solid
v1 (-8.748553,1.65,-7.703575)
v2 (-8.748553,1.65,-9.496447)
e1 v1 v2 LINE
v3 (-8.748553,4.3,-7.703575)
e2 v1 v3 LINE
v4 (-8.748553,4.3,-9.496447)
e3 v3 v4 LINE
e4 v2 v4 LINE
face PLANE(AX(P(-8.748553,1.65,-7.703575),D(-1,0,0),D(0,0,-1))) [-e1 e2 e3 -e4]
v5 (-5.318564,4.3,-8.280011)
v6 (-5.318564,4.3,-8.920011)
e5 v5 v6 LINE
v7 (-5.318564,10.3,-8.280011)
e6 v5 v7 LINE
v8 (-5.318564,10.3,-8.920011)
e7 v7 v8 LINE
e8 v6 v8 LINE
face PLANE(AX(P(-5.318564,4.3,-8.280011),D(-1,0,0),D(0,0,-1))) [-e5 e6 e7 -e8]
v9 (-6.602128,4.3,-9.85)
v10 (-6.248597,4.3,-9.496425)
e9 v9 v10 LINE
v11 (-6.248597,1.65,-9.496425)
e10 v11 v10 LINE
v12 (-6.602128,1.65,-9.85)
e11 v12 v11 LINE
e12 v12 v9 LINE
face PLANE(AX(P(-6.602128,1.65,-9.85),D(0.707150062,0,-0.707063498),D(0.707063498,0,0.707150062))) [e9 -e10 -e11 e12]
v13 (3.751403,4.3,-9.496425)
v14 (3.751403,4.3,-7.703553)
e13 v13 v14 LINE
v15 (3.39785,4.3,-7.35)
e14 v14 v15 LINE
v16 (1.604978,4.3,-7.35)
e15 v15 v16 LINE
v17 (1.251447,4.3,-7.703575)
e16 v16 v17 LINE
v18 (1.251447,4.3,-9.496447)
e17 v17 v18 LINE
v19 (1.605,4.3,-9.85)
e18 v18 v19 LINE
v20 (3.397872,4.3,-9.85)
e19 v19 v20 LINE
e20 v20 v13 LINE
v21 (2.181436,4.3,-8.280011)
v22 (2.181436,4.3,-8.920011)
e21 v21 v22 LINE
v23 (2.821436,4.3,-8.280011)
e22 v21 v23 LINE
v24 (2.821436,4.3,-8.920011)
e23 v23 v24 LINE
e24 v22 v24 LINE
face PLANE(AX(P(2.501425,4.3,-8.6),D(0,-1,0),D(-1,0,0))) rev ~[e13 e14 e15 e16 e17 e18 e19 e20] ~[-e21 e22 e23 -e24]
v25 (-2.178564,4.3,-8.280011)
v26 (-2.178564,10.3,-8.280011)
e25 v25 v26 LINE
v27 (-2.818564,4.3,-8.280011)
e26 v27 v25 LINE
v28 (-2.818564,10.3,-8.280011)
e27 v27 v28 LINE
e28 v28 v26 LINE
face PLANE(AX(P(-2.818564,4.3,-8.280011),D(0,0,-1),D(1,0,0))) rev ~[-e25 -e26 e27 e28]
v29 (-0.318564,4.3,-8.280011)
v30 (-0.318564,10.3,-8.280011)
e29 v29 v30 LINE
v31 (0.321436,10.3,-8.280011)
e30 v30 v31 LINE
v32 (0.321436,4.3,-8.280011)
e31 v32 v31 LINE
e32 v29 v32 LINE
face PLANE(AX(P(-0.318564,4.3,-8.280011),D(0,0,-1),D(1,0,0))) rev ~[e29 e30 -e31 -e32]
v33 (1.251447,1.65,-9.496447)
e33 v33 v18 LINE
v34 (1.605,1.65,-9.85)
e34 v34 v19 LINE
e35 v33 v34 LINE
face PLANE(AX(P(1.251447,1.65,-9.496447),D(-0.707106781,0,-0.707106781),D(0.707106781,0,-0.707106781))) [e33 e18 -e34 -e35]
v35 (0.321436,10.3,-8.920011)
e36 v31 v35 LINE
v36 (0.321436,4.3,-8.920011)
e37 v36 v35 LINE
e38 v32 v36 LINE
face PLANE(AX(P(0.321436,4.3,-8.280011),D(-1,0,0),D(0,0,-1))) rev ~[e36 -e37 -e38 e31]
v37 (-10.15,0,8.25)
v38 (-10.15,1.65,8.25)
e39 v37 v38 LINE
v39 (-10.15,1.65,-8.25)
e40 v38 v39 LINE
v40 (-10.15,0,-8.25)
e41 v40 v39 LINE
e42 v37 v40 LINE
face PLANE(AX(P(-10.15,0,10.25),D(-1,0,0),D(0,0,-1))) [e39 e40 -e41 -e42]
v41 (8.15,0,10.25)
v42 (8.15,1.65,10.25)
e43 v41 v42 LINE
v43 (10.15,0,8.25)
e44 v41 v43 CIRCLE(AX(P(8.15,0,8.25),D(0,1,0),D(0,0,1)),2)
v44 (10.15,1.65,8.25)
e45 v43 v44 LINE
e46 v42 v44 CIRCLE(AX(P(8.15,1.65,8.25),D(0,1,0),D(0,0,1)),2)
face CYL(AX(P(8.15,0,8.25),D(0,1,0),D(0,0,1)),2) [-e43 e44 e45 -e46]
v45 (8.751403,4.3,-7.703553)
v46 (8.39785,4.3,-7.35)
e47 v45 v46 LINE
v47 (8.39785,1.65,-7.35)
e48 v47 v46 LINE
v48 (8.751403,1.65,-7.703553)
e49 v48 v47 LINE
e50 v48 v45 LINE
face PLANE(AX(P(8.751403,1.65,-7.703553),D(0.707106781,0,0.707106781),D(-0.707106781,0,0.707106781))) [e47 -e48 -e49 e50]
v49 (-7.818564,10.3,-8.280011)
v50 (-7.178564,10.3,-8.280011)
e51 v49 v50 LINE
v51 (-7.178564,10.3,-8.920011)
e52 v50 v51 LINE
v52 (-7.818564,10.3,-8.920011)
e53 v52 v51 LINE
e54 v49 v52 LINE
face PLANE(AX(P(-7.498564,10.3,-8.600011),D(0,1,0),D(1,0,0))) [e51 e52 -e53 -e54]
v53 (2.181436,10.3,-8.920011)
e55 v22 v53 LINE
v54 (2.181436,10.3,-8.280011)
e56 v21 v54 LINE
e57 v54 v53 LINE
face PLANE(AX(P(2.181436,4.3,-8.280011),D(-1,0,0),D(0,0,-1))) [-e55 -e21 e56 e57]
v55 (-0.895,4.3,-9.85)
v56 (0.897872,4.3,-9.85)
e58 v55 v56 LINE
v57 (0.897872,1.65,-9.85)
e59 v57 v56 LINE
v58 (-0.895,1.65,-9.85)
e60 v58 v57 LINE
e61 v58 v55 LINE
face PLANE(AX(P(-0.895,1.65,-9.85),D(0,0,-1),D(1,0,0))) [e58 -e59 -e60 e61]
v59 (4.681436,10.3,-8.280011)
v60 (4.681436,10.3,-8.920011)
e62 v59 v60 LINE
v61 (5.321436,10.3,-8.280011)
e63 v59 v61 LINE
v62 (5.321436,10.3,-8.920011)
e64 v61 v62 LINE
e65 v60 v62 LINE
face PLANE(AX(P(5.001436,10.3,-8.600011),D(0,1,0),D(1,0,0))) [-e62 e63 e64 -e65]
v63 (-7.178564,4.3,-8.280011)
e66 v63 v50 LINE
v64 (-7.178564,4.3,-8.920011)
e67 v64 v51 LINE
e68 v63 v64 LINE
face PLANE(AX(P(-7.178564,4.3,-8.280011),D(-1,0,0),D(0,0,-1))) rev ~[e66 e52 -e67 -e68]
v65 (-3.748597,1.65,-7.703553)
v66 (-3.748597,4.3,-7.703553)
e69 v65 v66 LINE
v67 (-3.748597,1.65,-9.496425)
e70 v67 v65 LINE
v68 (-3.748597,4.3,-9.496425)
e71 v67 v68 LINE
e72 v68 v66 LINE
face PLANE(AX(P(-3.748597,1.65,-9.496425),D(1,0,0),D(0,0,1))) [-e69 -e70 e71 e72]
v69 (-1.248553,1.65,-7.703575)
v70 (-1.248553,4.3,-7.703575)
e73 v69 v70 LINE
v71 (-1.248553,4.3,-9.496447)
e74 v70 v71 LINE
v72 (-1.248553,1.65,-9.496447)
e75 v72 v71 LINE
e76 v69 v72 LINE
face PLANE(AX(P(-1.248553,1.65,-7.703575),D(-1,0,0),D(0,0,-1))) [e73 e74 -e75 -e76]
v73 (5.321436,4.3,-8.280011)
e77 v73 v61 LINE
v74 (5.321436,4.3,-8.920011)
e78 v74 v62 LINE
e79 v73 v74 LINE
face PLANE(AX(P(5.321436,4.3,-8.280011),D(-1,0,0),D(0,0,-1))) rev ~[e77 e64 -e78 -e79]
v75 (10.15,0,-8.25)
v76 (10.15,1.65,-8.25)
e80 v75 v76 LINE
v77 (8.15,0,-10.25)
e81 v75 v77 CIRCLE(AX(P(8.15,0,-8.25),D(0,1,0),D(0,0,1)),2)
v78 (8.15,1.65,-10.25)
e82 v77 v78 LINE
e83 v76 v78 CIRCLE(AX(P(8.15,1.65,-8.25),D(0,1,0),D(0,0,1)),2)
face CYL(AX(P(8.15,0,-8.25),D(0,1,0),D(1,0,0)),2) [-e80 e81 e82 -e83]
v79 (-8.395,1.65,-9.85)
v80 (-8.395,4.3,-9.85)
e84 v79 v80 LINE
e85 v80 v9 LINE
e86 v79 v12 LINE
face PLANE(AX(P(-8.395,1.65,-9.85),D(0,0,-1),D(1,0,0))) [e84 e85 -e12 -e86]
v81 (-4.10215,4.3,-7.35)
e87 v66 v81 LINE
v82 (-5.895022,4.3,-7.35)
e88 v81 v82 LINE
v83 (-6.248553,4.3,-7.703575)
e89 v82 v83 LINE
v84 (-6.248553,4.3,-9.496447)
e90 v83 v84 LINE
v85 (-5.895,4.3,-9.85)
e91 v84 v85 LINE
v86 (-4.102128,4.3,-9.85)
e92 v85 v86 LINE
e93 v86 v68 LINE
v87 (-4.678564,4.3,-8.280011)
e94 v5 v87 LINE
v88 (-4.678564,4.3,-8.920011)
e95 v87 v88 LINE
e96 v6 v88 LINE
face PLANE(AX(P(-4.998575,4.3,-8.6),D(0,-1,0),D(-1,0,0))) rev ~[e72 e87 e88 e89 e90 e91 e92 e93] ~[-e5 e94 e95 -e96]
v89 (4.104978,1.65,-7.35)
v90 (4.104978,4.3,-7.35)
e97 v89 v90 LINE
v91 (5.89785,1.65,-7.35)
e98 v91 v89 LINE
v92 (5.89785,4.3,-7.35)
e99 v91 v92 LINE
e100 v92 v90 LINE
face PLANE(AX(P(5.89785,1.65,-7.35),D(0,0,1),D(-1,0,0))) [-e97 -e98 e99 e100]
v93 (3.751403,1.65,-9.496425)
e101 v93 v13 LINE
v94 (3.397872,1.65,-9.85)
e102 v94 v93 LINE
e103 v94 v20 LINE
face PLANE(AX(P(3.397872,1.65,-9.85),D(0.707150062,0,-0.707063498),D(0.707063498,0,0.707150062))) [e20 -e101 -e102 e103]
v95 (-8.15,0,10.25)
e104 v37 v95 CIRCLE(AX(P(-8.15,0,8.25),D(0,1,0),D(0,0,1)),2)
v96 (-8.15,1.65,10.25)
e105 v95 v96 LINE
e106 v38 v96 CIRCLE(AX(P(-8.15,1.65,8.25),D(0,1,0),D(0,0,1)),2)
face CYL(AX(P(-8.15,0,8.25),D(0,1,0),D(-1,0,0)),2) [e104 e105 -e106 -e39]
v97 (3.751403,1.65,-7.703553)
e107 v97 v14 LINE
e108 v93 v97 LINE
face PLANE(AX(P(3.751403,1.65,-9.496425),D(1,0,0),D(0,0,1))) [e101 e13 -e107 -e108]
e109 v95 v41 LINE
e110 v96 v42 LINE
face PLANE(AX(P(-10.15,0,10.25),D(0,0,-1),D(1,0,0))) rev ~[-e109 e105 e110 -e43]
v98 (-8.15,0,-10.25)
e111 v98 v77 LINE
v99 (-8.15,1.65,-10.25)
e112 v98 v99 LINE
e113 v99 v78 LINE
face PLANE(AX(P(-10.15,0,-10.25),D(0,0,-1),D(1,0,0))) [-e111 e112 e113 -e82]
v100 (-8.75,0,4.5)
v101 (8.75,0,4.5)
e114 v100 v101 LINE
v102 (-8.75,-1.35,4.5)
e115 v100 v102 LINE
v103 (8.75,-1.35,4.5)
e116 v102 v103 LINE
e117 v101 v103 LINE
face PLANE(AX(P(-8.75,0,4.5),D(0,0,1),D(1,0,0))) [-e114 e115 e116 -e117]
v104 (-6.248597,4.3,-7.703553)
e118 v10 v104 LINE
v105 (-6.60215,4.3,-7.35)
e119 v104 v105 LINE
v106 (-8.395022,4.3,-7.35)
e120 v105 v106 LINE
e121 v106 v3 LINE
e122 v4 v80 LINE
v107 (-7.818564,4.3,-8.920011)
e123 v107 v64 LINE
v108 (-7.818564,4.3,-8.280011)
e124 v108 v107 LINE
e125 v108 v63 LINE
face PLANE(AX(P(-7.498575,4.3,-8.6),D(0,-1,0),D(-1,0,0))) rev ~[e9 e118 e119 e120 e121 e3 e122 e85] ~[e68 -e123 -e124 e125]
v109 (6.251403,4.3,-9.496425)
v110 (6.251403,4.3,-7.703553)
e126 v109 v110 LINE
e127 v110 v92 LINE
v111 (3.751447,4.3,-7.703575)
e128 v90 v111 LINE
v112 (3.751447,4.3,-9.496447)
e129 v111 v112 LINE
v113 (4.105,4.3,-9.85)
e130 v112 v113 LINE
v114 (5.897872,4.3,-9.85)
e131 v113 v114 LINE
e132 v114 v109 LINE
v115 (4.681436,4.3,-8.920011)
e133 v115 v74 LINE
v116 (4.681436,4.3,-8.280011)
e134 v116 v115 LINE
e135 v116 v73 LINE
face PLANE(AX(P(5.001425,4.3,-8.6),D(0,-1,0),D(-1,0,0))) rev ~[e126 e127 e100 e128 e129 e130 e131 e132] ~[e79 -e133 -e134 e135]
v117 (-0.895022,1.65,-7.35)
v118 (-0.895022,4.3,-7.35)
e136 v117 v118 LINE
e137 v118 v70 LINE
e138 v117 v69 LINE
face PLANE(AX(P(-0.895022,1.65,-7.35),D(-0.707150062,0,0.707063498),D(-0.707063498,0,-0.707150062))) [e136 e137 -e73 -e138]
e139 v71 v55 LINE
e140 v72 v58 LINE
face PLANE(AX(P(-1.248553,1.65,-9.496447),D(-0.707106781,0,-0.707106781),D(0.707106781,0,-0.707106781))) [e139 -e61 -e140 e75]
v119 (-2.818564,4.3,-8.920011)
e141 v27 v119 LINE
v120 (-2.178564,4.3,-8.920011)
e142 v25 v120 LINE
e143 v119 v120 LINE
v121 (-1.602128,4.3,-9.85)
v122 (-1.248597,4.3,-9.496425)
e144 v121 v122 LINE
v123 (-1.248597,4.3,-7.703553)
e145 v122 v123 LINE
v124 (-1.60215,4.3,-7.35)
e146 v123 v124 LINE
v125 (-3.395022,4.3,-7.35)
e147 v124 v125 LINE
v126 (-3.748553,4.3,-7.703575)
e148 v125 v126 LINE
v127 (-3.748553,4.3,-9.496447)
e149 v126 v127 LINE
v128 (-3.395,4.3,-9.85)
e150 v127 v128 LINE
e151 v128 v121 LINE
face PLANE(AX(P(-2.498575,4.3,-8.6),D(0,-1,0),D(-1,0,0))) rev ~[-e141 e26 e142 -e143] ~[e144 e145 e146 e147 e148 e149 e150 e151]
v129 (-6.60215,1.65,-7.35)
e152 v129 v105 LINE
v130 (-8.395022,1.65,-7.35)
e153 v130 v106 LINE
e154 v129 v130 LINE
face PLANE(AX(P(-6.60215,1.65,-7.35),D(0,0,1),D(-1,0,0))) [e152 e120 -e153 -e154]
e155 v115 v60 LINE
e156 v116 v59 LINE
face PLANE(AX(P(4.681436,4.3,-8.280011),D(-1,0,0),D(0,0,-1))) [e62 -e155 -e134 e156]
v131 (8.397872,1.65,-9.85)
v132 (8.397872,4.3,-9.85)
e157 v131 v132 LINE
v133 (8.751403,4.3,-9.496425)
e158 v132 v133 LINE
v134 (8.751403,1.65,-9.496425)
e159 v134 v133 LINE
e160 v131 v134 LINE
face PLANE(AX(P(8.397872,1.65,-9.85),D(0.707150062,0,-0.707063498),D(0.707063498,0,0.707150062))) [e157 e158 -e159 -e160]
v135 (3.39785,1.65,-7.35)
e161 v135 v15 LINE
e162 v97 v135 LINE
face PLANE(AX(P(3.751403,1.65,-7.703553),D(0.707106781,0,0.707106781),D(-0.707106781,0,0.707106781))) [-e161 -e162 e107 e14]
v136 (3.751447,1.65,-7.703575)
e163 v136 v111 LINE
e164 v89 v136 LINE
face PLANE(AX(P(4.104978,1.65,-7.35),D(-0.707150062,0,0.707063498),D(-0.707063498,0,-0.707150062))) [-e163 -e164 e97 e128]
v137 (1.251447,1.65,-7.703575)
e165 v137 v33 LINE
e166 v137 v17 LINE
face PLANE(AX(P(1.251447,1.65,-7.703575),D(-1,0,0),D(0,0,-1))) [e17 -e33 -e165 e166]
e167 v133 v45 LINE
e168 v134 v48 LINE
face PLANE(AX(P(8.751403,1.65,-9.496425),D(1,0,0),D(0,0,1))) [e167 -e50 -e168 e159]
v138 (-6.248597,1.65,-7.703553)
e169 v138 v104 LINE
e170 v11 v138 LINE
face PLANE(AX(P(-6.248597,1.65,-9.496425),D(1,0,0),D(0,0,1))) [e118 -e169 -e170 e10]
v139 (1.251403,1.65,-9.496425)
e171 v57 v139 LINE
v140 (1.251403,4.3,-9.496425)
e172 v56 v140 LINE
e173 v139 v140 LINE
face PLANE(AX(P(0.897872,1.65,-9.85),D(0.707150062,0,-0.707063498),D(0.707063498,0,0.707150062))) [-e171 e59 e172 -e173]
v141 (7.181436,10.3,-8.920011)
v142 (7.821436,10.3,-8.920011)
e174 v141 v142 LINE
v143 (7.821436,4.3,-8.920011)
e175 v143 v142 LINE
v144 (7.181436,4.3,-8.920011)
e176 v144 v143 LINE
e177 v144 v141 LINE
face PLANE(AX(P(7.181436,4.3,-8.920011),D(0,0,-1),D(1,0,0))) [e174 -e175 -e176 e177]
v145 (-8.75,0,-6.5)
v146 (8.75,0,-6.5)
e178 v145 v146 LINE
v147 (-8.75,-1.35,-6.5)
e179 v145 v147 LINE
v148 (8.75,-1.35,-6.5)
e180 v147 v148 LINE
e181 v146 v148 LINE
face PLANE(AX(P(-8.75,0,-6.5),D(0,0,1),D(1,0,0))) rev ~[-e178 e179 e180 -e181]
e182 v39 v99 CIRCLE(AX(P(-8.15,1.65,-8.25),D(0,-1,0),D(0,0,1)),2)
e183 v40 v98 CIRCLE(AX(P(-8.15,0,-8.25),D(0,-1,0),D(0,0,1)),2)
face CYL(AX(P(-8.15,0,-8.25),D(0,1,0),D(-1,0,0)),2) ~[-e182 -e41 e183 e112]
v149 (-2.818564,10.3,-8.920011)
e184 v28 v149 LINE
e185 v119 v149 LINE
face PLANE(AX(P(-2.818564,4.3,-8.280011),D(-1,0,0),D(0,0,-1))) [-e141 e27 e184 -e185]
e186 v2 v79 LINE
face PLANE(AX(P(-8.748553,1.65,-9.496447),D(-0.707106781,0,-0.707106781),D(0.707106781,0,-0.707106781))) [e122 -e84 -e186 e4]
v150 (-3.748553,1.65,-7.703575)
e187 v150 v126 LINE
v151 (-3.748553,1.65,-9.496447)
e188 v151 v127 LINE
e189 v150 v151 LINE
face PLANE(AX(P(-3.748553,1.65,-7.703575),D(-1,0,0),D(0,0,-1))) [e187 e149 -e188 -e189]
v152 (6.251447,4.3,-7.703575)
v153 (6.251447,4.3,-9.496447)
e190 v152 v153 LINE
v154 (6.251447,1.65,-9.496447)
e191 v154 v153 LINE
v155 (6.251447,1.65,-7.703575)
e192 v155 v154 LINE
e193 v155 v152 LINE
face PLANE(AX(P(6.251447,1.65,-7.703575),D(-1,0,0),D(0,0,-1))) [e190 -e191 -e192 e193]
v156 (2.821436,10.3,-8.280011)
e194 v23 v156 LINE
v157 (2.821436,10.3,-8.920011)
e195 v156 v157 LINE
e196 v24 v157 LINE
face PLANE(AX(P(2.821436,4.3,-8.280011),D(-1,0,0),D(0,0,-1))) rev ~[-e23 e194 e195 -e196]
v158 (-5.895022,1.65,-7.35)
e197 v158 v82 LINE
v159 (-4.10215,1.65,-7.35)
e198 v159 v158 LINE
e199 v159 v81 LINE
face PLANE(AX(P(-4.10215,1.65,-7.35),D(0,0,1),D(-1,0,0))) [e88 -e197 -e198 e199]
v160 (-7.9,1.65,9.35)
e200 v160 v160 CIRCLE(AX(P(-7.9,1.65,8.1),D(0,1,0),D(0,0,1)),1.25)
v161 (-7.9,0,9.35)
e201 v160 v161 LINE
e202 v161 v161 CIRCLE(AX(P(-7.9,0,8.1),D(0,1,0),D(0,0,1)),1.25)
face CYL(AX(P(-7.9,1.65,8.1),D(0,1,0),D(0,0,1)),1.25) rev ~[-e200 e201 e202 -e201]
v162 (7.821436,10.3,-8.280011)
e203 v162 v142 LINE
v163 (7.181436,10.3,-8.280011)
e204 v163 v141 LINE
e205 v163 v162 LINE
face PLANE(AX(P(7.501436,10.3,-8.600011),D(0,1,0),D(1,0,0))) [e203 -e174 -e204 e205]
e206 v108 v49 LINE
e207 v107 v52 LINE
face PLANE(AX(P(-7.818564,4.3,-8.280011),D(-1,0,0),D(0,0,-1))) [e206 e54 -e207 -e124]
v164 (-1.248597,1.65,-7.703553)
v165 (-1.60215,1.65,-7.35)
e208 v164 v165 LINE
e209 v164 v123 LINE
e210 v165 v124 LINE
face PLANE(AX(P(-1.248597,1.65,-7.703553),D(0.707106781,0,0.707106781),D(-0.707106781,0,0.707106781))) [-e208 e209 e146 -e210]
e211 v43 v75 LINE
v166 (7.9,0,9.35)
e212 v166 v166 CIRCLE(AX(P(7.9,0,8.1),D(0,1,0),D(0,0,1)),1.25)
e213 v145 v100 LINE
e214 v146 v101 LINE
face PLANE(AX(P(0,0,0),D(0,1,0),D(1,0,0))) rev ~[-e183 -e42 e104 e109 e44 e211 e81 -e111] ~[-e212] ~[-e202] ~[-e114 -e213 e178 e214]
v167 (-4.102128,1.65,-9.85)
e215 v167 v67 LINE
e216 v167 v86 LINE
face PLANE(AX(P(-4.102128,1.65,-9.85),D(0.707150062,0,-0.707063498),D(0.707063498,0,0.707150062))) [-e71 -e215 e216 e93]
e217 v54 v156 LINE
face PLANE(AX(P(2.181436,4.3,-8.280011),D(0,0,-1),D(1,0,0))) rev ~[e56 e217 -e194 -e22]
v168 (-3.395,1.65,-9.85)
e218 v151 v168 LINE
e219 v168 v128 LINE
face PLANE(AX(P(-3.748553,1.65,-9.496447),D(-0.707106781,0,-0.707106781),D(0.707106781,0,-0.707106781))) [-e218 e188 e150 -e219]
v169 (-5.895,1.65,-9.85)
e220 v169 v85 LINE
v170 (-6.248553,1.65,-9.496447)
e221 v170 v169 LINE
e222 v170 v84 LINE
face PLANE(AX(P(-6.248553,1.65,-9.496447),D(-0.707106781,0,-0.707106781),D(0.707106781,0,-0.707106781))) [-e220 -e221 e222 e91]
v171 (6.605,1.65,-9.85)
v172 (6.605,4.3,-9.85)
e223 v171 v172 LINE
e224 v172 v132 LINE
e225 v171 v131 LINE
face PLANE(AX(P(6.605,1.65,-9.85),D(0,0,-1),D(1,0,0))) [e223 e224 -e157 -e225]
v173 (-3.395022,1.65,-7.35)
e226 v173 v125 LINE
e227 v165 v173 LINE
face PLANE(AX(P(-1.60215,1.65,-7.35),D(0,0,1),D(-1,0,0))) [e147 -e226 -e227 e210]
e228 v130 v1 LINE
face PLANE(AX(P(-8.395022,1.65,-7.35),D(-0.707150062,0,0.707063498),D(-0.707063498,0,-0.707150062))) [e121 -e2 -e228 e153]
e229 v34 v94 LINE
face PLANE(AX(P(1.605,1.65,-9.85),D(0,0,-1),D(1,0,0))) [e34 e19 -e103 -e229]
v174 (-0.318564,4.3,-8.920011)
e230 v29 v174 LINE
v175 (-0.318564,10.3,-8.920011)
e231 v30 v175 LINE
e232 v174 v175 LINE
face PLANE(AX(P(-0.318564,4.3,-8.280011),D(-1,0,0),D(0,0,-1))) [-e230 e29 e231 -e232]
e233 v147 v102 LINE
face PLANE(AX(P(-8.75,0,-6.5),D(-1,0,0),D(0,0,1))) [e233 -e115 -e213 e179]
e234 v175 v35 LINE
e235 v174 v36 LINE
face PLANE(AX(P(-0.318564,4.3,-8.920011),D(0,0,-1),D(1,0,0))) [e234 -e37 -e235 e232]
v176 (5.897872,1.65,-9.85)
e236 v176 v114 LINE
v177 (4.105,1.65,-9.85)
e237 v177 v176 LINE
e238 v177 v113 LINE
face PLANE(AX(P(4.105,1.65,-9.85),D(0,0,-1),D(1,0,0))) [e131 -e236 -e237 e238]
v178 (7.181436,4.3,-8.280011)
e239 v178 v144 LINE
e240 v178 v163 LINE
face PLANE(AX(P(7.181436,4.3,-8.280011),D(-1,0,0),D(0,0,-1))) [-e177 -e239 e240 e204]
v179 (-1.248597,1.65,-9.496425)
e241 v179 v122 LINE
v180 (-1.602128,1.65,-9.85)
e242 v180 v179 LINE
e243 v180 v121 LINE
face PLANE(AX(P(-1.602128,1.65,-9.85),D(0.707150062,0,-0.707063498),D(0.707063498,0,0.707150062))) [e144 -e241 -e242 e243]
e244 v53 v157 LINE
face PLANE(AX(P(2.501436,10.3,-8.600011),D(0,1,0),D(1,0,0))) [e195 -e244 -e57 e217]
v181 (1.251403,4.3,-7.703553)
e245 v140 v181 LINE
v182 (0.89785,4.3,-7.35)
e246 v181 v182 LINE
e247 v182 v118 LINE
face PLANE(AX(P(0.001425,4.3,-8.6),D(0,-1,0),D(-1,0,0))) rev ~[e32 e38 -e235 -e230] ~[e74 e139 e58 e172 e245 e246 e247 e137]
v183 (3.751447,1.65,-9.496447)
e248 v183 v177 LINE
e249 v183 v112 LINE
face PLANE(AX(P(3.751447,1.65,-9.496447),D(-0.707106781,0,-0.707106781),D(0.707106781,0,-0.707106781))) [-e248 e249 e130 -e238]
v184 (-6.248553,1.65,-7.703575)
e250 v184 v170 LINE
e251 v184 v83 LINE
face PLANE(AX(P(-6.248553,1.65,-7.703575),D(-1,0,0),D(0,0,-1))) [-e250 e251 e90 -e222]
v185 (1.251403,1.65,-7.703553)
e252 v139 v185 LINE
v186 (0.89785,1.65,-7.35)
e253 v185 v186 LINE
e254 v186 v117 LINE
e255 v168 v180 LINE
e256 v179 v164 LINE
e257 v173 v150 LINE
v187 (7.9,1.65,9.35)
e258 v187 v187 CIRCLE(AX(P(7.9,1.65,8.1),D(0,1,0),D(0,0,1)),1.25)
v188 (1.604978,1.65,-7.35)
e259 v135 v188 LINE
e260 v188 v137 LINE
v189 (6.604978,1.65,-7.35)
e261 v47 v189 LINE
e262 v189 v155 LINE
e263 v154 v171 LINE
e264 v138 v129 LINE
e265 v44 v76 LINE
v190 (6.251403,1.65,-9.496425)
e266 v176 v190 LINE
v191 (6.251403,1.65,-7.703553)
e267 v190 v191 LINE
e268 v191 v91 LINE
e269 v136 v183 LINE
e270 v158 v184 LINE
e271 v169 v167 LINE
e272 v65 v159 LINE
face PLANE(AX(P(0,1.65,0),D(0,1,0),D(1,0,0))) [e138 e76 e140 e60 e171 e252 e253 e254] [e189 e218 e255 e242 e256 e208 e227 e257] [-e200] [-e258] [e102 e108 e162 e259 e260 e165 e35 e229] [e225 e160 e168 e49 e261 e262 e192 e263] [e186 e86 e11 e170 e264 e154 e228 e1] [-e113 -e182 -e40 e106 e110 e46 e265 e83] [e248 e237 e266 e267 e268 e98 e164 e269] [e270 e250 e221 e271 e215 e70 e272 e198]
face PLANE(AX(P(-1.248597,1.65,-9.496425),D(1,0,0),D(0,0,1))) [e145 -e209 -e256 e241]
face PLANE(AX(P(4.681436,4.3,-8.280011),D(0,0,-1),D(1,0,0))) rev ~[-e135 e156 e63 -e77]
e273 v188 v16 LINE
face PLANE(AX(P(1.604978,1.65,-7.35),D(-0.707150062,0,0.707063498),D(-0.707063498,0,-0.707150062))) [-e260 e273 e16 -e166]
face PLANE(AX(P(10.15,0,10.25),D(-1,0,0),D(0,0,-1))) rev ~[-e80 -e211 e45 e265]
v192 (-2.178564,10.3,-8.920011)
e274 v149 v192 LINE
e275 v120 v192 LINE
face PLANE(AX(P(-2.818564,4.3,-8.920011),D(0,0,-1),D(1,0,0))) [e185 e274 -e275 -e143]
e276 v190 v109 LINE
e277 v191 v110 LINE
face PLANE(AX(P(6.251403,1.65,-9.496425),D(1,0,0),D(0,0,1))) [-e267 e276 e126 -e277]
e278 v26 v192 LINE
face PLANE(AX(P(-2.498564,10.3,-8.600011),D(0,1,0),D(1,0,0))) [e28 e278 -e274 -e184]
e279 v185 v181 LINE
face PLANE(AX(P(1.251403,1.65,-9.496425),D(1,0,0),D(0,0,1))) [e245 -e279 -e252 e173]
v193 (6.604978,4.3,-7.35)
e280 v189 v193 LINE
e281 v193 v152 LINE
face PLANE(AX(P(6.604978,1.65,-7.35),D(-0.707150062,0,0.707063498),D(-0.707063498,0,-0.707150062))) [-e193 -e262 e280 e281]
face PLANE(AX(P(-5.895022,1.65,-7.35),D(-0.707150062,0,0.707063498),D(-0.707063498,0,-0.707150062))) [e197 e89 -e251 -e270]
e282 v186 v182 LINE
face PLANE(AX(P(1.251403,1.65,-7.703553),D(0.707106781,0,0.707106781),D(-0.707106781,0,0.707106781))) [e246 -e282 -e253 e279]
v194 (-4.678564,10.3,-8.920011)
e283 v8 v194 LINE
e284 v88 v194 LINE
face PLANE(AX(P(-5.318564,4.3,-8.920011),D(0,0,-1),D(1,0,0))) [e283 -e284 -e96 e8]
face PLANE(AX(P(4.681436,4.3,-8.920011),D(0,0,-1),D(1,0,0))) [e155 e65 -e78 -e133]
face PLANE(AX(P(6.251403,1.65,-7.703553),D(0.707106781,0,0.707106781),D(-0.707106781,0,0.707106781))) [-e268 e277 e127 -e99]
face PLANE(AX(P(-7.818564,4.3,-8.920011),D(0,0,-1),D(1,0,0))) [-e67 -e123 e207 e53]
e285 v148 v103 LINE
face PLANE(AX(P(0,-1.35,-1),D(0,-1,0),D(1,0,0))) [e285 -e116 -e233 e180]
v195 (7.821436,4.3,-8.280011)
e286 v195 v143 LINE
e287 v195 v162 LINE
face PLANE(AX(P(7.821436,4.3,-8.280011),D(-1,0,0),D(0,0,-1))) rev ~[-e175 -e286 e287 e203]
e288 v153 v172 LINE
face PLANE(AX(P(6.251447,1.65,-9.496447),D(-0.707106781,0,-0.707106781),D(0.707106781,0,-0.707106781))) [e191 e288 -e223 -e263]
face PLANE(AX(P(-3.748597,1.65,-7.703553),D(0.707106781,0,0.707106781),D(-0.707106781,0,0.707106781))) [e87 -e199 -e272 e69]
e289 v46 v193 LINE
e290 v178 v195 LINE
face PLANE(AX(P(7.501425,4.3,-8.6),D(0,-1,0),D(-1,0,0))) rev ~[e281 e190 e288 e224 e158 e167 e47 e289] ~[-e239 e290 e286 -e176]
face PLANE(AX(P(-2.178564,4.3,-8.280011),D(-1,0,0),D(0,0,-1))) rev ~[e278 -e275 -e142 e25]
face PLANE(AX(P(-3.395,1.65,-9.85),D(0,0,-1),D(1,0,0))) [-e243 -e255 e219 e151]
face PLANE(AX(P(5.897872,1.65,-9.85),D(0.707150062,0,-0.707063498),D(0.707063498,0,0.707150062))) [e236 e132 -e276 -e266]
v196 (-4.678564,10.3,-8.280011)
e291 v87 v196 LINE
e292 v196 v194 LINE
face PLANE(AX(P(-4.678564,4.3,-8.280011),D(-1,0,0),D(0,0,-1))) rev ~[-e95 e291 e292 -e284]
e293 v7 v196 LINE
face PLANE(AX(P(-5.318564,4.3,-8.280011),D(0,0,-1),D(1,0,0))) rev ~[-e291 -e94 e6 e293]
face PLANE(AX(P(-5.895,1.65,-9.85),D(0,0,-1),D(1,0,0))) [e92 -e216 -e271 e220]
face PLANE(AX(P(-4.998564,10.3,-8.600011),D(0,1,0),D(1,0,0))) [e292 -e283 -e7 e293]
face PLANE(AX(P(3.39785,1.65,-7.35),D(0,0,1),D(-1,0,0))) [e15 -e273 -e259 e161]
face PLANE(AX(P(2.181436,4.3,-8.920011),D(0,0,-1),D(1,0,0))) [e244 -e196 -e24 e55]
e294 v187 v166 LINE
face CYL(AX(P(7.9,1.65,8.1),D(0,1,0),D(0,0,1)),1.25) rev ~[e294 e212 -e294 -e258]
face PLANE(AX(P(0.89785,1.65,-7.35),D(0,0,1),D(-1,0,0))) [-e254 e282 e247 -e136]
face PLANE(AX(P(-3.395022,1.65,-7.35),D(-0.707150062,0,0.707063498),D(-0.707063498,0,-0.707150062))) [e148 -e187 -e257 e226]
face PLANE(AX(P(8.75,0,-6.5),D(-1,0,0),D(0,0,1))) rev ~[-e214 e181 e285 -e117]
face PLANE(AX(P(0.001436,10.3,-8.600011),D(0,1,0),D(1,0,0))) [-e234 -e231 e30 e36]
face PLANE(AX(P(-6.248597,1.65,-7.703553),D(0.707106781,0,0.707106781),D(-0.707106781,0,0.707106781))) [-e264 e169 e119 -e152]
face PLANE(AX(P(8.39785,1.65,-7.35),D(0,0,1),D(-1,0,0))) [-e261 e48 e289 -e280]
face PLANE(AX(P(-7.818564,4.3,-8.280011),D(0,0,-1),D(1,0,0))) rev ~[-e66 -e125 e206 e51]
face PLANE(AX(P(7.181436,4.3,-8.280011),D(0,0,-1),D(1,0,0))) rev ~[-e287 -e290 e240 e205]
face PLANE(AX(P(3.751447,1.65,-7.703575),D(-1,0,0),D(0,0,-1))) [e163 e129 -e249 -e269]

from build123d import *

# Parameters (mm, degrees)
SKETCH1_W           = 20.3
SKETCH1_H           = 20.5
BOSS_EXTRUDE1_DEPTH = 1.65
FILLET1_R           = 2
SKETCH2_R           = 1.25
CUT_EXTRUDE1_DEPTH  = 15.519211411
BOSS_EXTRUDE2_DEPTH = 2.65
SKETCH4_W           = 0.64
SKETCH4_H           = 0.64
BOSS_EXTRUDE3_DEPTH = 6
LPATTERN1_COUNT     = 7
LPATTERN1_PITCH     = 2.5
SKETCH5_W           = 17.5
SKETCH5_H           = 11
BOSS_EXTRUDE4_DEPTH = 1.35


with BuildPart() as part:
    # Sketch1 → Boss-Extrude1 (new body)
    with BuildSketch(Plane(origin=(0, 0, 0), x_dir=(1, 0, 0), z_dir=(0, 1, 0))):
        Rectangle(SKETCH1_W, SKETCH1_H)
    extrude(amount=BOSS_EXTRUDE1_DEPTH)

    # Fillet1
    fillet1_edges = [part.edges().sort_by_distance(p)[0] for p in [
        (10.15, 0.825, 10.25),
        (-10.15, 0.825, 10.25),
        (-10.15, 0.825, -10.25),
        (10.15, 0.825, -10.25),
    ]]
    fillet(fillet1_edges, radius=FILLET1_R)

    # Sketch2 → Cut-Extrude1 (cut, through all)
    with BuildSketch(Plane(origin=(0, 1.65, 0), x_dir=(1, 0, 0), z_dir=(0, 1, 0))):
        with Locations(Location((7.9, -8.1, 0), (0, 0, 270))):
            Circle(SKETCH2_R)
        with Locations(Location((-7.9, -8.1, 0), (0, 0, 270))):
            Circle(SKETCH2_R)
    extrude(amount=-CUT_EXTRUDE1_DEPTH, mode=Mode.SUBTRACT)

    # Sketch3 → Boss-Extrude2 (add)
    with BuildSketch(Plane(origin=(0, 1.65, 0), x_dir=(1, 0, 0), z_dir=(0, 1, 0))):
        Polygon((-8.395, 9.85), (-6.602128422, 9.85), (-6.248596673, 9.496424969), (-6.248596673, 7.703553391), (-6.602150064, 7.35), (-8.395021642, 7.35), (-8.748553391, 7.703575031), (-8.748553391, 9.496446609), align=None)
    boss_extrude2 = extrude(amount=BOSS_EXTRUDE2_DEPTH)

    # Sketch4 → Boss-Extrude3 (add)
    with BuildSketch(Plane(origin=(0, 4.3, 0), x_dir=(1, 0, 0), z_dir=(0, 1, 0))):
        with Locations((-7.498564211, 8.60001082)):
            Rectangle(SKETCH4_W, SKETCH4_H)
    boss_extrude3 = extrude(amount=BOSS_EXTRUDE3_DEPTH)

    # LPattern1: Boss-Extrude2, Boss-Extrude3 ×7
    with Locations(*[(i * LPATTERN1_PITCH, 0, 0) for i in range(1, LPATTERN1_COUNT)]):
        add(boss_extrude2)
        add(boss_extrude3)

    # Sketch5 → Boss-Extrude4 (add)
    with BuildSketch(Plane.XZ):
        with Locations((0, -1)):
            Rectangle(SKETCH5_W, SKETCH5_H)
    extrude(amount=BOSS_EXTRUDE4_DEPTH)


solid = part.part
